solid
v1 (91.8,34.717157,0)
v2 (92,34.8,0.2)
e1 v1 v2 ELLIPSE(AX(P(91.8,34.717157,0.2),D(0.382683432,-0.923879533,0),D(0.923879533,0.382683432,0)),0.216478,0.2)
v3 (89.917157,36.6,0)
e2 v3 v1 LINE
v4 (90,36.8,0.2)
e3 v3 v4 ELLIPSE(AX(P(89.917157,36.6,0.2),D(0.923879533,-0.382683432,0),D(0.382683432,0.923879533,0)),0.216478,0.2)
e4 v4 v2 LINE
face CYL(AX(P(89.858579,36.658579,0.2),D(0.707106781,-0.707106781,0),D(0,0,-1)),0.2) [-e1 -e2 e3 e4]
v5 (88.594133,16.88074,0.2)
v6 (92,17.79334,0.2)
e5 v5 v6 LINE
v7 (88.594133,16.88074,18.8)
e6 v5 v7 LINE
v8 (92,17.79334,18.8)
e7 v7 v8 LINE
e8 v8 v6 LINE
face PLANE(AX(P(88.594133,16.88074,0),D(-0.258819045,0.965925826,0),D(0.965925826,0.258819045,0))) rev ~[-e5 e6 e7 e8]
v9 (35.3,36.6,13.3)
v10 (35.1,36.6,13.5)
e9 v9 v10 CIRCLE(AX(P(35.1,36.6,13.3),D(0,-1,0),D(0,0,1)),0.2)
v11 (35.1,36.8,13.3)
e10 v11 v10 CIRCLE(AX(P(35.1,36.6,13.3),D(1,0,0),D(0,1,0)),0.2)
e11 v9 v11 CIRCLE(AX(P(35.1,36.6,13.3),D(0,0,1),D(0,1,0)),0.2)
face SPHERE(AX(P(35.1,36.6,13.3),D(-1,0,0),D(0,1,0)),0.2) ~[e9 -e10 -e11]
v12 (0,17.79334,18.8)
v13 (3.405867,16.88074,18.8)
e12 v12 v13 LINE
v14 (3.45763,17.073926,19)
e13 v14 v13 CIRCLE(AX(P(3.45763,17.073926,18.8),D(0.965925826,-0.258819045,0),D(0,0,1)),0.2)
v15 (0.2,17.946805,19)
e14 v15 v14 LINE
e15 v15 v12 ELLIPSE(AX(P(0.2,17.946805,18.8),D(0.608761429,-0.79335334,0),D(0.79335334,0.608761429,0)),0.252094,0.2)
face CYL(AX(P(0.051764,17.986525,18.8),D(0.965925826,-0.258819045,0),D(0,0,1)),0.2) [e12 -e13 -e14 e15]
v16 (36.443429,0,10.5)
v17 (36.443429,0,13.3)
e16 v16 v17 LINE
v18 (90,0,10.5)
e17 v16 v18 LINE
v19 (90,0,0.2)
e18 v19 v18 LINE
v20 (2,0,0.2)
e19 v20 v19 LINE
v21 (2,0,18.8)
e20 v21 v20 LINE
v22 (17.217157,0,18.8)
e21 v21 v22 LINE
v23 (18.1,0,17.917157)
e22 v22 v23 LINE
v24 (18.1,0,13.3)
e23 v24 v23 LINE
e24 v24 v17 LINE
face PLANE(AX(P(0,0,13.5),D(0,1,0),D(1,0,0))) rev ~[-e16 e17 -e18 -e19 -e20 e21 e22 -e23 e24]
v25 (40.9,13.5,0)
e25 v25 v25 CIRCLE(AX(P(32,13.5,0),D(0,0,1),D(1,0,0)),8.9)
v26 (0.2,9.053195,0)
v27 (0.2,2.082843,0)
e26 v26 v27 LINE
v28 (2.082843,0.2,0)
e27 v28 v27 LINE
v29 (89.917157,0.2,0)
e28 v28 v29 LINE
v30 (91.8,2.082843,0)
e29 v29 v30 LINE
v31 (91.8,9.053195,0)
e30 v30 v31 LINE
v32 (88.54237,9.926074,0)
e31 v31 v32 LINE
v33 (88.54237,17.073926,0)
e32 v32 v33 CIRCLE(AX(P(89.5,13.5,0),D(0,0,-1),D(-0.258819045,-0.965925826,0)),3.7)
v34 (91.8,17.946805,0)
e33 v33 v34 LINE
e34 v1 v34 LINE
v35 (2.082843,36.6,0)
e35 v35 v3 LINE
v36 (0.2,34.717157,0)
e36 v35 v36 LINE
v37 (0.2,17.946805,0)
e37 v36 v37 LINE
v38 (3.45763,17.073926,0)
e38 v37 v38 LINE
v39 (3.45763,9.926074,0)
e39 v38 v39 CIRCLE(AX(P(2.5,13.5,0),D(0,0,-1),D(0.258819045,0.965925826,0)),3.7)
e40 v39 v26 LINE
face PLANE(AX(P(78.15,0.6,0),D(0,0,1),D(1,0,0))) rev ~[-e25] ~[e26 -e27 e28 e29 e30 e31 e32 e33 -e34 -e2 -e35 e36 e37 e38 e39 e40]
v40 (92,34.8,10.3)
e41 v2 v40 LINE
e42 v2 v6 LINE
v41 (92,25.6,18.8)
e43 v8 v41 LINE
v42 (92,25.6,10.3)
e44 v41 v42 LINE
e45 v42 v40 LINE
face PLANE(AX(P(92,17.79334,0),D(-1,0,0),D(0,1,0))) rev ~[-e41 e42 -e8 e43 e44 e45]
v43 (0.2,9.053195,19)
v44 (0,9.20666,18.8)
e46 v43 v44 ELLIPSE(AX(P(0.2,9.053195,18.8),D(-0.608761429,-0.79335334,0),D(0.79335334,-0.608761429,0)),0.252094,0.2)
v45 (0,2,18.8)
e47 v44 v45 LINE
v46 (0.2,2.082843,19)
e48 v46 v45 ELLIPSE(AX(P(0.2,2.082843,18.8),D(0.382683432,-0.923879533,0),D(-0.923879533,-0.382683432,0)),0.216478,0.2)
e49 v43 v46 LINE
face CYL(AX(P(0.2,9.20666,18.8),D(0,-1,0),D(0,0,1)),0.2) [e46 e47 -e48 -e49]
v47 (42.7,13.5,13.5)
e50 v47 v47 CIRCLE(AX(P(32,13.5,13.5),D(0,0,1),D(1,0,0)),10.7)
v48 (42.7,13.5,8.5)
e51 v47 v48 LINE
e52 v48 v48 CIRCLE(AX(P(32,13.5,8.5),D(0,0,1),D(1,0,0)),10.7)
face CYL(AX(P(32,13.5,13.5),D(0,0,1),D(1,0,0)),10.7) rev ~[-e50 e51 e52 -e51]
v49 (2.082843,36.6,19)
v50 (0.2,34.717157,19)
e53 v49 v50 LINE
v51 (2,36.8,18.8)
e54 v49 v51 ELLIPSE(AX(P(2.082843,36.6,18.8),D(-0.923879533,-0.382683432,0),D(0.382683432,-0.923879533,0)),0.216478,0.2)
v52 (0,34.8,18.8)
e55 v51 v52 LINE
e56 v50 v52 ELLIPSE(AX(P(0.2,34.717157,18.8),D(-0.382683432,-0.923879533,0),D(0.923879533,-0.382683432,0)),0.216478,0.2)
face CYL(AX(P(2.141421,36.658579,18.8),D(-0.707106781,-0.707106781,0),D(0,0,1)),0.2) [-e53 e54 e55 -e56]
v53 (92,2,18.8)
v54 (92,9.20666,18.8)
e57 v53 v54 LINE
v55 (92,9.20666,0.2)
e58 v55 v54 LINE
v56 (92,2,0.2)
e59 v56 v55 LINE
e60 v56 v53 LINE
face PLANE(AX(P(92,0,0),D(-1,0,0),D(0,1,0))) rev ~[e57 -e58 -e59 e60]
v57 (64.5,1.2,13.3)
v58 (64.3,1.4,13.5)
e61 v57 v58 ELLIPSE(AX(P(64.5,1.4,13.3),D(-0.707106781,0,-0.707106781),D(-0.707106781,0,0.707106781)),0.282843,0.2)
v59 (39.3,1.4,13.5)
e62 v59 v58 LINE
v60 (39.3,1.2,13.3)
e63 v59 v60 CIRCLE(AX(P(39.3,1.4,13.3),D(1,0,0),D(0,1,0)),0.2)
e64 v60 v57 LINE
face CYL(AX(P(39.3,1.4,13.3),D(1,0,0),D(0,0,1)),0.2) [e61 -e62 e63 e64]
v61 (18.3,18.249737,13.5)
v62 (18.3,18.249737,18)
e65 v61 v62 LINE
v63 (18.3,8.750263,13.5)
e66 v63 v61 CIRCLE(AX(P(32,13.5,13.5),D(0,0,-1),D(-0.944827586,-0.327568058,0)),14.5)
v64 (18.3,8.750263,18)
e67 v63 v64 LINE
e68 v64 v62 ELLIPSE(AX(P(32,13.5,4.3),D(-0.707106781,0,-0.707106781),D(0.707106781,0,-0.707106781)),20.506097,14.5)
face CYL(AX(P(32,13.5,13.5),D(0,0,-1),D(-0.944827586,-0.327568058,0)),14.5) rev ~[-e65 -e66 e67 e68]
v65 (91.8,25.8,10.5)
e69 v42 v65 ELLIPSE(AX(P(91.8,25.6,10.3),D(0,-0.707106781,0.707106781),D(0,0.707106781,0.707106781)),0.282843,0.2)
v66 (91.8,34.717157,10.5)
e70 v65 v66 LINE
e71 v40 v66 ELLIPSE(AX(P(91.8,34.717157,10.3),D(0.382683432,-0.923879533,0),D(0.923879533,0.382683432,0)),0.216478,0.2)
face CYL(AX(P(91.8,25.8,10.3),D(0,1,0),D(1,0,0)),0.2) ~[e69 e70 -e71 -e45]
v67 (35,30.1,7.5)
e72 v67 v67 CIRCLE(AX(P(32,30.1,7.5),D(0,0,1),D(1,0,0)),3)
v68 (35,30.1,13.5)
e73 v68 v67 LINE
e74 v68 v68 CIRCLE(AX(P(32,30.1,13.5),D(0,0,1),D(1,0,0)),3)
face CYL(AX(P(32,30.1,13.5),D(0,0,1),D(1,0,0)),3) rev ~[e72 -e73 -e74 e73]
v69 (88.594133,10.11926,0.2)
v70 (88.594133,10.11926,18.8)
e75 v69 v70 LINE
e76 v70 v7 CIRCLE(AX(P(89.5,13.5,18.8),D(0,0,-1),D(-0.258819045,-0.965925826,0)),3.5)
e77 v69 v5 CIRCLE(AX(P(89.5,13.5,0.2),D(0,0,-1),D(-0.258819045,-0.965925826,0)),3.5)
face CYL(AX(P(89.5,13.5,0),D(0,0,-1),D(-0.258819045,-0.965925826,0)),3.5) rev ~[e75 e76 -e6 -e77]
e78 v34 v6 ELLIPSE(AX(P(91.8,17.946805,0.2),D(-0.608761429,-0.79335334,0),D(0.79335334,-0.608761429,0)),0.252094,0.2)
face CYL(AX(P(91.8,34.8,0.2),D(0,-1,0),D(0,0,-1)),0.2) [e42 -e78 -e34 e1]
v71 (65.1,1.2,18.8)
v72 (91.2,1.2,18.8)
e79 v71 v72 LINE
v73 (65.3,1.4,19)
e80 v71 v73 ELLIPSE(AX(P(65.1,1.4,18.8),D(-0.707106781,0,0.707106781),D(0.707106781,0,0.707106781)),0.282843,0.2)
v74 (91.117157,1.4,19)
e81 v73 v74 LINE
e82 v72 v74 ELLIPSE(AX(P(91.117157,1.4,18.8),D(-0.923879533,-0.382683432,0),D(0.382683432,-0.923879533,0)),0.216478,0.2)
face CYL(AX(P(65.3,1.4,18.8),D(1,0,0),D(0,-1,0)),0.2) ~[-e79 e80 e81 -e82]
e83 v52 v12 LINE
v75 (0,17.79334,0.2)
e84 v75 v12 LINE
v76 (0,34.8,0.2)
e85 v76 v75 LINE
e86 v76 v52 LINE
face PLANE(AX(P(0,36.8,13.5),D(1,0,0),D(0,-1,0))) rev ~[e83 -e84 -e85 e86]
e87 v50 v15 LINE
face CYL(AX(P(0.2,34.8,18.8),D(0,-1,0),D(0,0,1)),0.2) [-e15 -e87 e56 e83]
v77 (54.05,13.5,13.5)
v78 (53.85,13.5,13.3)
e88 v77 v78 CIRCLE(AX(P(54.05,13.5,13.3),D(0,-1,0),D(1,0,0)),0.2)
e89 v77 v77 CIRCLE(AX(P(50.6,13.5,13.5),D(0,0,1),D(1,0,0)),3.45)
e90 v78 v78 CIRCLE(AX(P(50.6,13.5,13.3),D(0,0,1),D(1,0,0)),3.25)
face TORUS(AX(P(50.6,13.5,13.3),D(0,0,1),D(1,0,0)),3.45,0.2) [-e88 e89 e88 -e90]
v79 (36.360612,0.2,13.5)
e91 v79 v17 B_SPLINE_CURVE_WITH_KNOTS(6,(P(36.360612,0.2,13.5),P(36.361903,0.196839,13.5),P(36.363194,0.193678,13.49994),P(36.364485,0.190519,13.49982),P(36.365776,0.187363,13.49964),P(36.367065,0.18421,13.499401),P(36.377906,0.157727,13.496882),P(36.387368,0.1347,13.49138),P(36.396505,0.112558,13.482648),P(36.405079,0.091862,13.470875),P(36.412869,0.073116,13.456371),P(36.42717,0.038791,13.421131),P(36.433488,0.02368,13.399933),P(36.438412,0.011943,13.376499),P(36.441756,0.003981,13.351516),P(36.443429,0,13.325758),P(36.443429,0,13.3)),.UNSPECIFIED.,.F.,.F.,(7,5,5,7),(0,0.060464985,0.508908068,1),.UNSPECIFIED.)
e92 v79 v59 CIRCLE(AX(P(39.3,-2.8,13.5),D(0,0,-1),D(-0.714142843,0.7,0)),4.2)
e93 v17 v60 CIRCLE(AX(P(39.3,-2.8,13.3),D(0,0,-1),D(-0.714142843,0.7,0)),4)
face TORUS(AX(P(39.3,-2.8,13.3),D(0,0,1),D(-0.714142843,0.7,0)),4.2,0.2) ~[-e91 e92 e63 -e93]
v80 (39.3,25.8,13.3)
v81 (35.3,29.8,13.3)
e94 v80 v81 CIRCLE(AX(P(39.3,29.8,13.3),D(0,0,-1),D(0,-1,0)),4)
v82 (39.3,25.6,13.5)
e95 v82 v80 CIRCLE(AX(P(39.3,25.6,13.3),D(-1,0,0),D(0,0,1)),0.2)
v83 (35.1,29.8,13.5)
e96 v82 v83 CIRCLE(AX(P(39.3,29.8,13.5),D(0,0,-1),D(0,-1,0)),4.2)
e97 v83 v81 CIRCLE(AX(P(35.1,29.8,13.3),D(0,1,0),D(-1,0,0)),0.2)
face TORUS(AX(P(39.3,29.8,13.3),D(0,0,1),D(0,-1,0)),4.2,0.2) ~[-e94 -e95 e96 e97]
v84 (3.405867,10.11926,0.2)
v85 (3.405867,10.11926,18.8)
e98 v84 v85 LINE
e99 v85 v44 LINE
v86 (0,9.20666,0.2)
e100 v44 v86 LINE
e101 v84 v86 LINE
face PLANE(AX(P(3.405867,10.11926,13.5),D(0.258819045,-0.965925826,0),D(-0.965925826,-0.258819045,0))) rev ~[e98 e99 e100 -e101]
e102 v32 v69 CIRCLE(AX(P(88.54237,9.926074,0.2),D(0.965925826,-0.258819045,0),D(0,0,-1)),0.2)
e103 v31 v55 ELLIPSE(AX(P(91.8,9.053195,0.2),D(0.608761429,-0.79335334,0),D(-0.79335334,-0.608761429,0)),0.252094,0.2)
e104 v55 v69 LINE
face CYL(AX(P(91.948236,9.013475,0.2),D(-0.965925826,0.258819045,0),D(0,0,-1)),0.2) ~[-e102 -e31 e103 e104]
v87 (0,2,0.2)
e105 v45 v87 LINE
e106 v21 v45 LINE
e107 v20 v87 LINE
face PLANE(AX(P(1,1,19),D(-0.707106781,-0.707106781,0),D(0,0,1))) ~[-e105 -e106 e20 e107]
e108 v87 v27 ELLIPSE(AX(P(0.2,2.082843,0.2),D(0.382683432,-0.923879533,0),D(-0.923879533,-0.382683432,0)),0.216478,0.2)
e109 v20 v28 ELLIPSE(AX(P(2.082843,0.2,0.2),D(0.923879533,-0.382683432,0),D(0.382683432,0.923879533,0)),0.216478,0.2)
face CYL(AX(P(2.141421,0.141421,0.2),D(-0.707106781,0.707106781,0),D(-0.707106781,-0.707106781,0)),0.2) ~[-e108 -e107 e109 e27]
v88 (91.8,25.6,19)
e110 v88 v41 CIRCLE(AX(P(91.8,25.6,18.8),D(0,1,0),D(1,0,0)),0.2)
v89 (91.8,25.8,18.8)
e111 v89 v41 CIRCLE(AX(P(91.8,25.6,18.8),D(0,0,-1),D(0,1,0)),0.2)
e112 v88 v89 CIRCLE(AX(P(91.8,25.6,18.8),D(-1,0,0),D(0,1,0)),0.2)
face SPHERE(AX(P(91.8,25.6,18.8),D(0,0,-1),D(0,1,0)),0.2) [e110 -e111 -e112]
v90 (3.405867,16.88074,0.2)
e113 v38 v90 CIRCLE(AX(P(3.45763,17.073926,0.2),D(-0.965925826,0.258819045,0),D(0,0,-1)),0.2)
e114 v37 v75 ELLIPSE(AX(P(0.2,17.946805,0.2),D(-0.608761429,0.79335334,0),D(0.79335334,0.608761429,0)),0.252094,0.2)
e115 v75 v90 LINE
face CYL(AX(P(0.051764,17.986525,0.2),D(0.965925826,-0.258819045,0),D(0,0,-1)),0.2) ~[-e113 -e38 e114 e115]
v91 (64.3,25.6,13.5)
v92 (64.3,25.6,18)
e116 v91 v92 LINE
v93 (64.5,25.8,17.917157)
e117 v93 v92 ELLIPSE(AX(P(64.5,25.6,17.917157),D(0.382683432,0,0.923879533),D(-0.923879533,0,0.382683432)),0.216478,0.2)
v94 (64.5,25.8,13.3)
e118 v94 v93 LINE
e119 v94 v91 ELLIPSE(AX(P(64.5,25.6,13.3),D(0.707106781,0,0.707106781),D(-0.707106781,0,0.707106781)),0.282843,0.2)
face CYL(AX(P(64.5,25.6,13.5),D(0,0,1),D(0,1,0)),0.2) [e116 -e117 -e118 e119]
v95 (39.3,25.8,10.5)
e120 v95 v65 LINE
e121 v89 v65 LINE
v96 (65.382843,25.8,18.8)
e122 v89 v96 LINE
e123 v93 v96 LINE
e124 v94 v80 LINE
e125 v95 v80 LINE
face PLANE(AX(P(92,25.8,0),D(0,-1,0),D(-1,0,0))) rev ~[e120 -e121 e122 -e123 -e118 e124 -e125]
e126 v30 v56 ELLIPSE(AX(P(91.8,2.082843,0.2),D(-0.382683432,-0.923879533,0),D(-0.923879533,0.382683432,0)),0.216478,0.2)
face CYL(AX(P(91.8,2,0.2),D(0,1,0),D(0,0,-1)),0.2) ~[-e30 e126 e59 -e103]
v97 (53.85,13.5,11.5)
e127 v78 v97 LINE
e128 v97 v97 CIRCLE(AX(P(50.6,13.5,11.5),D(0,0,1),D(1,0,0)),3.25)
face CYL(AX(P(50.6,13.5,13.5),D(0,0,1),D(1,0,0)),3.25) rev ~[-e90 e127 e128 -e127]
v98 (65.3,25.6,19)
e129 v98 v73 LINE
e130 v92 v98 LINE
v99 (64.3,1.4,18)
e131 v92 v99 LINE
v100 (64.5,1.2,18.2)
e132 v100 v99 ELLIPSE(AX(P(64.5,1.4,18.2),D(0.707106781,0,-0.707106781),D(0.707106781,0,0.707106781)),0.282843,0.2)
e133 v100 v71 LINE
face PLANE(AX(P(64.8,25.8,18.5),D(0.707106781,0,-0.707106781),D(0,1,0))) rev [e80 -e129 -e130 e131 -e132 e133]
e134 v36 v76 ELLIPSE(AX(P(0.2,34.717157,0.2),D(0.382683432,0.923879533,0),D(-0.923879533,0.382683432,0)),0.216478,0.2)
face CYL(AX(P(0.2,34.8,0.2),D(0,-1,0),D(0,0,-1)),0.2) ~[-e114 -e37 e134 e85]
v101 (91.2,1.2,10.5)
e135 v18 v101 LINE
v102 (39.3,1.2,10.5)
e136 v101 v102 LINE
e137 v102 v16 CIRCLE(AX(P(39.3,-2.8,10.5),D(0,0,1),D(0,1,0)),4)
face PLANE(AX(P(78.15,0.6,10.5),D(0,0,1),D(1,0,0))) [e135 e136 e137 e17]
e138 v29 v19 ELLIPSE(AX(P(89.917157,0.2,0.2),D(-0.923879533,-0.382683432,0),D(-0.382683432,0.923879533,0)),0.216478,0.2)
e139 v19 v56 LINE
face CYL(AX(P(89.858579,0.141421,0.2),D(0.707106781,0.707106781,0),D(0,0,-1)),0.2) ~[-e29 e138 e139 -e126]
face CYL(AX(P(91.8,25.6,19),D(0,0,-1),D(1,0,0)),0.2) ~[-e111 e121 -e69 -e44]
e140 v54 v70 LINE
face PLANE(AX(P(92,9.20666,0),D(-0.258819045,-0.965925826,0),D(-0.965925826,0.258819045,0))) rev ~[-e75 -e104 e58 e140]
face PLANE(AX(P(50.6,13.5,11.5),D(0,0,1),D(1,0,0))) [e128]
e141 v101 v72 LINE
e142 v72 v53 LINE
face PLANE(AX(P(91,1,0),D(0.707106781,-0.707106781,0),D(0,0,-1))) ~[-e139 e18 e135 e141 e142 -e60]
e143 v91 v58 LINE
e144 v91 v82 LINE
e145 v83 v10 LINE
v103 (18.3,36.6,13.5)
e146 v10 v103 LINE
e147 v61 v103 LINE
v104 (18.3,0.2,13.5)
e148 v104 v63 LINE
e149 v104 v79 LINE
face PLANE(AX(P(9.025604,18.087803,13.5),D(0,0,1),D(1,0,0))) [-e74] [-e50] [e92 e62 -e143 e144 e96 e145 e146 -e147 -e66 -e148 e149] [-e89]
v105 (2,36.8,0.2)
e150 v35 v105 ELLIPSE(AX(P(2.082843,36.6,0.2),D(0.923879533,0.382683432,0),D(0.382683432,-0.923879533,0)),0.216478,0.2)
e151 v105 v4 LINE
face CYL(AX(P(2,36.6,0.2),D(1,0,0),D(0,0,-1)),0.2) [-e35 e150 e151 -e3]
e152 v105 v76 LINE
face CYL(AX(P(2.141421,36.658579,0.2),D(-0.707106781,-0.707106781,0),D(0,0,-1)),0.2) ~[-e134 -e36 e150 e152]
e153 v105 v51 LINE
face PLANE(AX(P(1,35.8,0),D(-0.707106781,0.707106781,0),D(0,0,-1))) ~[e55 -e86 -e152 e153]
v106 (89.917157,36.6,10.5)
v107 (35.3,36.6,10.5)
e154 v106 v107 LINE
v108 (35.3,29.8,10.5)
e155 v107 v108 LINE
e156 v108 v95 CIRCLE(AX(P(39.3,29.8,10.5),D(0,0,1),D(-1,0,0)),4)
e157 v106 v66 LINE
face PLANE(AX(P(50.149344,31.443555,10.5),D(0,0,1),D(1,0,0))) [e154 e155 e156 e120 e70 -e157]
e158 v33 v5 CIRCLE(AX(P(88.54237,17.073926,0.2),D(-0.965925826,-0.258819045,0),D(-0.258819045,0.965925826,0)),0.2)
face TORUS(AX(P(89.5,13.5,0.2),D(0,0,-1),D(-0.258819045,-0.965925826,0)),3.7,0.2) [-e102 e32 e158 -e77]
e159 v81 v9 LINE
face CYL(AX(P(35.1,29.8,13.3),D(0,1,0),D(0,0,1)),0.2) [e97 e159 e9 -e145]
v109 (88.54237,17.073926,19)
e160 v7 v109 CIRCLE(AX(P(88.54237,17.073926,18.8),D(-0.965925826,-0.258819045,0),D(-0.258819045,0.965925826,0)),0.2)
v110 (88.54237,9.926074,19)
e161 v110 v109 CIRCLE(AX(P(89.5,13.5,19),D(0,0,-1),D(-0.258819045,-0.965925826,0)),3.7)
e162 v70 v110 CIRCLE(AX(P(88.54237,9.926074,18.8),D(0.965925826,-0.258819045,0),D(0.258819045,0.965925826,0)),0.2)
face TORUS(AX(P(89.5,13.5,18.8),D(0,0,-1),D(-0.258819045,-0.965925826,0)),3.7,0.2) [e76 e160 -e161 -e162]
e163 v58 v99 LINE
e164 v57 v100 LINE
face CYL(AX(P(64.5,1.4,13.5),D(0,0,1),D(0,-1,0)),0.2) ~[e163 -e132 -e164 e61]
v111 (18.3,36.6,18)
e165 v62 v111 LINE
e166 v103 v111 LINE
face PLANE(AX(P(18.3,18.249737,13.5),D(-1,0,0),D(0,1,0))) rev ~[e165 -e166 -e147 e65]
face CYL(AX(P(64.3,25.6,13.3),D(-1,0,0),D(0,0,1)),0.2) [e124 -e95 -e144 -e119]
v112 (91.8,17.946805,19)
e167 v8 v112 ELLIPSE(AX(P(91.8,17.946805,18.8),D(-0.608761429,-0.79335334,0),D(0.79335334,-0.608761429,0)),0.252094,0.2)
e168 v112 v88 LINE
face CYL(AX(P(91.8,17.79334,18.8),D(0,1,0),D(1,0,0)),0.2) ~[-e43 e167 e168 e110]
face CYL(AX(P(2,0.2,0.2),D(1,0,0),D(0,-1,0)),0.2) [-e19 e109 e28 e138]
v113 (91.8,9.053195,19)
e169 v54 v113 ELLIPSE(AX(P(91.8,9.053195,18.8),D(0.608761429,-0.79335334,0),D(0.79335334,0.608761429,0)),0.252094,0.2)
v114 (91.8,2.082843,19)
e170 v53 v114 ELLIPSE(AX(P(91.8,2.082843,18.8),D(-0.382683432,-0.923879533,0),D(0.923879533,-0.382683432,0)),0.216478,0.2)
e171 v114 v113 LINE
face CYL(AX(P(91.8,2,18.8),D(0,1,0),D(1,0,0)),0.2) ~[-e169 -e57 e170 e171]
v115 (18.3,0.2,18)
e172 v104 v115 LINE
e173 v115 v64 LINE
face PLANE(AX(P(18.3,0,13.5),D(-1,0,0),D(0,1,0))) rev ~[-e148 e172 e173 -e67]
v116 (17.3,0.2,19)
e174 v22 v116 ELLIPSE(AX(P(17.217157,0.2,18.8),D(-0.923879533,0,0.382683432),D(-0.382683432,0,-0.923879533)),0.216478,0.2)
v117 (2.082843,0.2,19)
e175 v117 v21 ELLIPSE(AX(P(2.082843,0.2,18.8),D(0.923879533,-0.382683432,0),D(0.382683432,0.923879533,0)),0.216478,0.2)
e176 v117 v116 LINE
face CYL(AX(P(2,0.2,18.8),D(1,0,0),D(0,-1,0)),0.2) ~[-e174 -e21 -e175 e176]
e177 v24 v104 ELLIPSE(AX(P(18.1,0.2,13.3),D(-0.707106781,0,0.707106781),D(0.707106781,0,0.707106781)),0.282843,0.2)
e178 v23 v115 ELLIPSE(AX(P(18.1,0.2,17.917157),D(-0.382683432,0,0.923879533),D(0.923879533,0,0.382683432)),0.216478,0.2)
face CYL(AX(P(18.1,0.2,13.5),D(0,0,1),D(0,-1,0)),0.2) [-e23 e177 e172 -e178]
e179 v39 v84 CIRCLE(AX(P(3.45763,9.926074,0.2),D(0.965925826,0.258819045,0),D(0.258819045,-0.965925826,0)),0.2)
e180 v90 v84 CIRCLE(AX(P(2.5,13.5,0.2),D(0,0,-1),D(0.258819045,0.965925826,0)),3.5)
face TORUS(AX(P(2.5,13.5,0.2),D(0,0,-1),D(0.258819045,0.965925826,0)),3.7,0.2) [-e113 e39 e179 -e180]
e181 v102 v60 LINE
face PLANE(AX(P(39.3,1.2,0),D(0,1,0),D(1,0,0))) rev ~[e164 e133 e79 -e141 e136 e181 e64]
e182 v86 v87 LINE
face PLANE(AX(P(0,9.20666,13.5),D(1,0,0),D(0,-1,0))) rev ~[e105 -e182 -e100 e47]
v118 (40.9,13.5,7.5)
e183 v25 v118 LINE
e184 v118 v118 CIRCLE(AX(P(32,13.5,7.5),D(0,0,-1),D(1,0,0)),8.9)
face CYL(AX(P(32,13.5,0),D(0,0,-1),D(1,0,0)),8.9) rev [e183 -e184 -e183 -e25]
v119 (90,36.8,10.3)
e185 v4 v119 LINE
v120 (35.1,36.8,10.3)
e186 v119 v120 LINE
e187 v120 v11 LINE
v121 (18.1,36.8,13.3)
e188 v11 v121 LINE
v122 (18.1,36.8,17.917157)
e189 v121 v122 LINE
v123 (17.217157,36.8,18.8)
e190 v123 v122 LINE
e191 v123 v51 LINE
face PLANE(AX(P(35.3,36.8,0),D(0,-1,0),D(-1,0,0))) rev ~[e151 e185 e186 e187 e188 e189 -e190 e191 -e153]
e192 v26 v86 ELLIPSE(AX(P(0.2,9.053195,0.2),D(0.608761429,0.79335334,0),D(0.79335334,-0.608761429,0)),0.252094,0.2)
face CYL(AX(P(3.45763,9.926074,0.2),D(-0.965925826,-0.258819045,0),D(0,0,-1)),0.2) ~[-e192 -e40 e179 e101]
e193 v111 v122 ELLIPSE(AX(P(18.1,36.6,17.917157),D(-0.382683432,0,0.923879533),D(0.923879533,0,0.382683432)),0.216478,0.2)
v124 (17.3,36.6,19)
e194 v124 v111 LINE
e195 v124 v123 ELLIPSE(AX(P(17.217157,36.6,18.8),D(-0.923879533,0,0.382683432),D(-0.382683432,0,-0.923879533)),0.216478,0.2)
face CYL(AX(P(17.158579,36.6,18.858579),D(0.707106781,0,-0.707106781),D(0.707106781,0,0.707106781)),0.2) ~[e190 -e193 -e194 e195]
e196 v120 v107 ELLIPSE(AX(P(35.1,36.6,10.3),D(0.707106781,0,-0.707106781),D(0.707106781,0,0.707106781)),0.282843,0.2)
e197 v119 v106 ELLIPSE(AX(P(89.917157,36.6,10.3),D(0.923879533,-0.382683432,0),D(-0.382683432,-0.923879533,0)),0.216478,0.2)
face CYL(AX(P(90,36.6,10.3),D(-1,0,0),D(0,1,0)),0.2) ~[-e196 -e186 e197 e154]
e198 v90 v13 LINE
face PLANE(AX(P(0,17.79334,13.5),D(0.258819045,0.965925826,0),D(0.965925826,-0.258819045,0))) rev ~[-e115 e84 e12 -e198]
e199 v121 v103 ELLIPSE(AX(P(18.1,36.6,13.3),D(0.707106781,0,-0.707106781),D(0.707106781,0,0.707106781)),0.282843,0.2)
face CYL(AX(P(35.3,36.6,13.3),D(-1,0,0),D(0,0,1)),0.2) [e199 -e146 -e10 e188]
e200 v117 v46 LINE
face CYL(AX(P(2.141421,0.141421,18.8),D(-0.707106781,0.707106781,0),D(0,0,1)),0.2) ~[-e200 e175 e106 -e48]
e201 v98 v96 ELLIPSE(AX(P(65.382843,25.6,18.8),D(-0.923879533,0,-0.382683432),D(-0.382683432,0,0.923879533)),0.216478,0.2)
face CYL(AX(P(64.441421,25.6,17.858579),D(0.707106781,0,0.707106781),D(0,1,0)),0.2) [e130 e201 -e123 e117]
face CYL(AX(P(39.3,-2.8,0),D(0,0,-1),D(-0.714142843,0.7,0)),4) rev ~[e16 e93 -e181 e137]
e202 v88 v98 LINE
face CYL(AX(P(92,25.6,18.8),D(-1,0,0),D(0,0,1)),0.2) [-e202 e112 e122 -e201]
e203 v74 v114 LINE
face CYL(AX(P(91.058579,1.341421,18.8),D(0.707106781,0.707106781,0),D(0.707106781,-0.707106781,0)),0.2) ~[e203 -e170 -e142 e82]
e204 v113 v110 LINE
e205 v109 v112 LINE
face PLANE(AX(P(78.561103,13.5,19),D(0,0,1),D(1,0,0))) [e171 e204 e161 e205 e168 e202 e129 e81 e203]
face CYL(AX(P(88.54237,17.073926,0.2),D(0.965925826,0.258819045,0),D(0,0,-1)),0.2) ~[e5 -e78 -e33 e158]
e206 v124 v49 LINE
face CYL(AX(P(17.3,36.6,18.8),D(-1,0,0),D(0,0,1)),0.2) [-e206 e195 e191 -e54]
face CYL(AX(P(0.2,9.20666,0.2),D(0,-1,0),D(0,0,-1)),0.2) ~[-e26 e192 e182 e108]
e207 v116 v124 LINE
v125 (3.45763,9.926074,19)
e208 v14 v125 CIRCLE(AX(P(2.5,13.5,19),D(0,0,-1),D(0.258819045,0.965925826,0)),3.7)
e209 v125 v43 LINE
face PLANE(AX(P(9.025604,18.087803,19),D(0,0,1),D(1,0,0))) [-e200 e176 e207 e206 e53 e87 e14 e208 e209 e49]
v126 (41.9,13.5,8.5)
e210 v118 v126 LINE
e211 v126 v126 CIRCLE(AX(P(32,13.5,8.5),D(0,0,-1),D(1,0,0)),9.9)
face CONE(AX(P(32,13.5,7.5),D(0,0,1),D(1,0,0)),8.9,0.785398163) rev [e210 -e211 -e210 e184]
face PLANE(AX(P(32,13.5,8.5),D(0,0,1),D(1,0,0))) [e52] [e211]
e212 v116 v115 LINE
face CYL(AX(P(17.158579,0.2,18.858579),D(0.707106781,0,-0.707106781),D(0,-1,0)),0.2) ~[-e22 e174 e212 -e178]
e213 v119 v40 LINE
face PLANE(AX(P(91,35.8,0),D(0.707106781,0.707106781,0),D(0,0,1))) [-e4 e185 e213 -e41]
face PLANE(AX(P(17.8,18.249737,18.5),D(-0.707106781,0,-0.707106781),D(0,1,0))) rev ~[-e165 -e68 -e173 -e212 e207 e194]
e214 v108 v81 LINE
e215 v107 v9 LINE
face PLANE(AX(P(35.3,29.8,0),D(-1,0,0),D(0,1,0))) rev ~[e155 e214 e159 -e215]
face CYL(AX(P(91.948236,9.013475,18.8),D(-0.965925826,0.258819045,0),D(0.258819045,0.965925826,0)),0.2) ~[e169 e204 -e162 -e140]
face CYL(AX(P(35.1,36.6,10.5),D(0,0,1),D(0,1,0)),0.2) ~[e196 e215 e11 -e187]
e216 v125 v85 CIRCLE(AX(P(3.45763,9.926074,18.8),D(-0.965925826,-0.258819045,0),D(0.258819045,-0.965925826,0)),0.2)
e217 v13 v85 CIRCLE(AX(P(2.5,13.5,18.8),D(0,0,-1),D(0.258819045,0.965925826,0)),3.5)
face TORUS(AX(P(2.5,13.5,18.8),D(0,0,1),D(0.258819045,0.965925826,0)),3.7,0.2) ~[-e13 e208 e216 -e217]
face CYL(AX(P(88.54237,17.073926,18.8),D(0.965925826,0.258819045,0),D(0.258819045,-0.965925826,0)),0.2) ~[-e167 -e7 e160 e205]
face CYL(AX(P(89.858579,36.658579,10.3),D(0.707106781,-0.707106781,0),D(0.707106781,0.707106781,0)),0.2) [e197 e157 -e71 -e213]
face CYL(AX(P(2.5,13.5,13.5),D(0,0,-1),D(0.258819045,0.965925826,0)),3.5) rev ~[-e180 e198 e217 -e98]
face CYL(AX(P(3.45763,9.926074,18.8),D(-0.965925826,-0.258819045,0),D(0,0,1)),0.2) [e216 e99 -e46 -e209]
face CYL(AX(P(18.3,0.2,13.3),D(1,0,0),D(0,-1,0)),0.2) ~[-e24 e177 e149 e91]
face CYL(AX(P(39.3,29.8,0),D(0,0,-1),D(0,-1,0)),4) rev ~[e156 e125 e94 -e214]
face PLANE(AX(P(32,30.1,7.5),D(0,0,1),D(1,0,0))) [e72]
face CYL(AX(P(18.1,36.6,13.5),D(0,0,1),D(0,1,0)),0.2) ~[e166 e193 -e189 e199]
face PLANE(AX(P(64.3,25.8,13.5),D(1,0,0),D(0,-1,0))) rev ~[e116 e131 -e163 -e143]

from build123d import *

# Parameters (mm, degrees)
F0_R     = 8.9
F3_DEPTH = 13.5
F0_W     = 27.7
F0_H     = 1.2
F0_H_2   = 11
F4_DEPTH = 10.5
F2_R     = 10.7
F5_DEPTH = 5
F2_R_2   = 3.25
F6_DEPTH = 2
F2_R_3   = 3
F7_DEPTH = 6
F8_DEPTH = 5.5
F9_SIZE  = 1
F10_SIZE = 2
F11_R    = 0.2


with BuildPart() as f3:
    # F0 (on Top) → F3 (new body)
    with BuildSketch(Plane.XY):
        with BuildLine():
            Line((0, 9.2066603875), (0, 0))
            Line((0, 0), (18.3, 0))
            Line((18.3, 0), (18.3, 8.7502631652))
            ThreePointArc((18.3, 8.7502631652), (17.5, 13.5), (18.3, 18.2497368348))
            Line((18.3, 18.2497368348), (18.3, 36.8))
            Line((18.3, 36.8), (0, 36.8))
            Line((0, 36.8), (0, 17.7933396125))
            Line((0, 17.7933396125), (3.4058666579, 16.880740392))
            ThreePointArc((3.4058666579, 16.880740392), (6, 13.5), (3.4058666579, 10.119259608))
            Line((3.4058666579, 10.119259608), (0, 9.2066603875))
        make_face()
        with BuildLine():
            Line((18.3, 8.7502631652), (18.3, 0))
            Line((18.3, 0), (36.4434286286, 0))
            ThreePointArc((36.4434286286, 0), (37.7508066615, 0.8878177829), (39.3, 1.2))
            Line((39.3, 1.2), (64.3, 1.2))
            Line((64.3, 1.2), (64.3, 25.8))
            Line((64.3, 25.8), (39.3, 25.8))
            ThreePointArc((39.3, 25.8), (36.4715728753, 26.9715728753), (35.3, 29.8))
            Line((35.3, 29.8), (35.3, 36.8))
            Line((35.3, 36.8), (18.3, 36.8))
            Line((18.3, 36.8), (18.3, 18.2497368348))
            ThreePointArc((18.3, 18.2497368348), (17.5, 13.5), (18.3, 8.7502631652))
        make_face()
        with Locations((32, 13.5)):
            Circle(F0_R, mode=Mode.SUBTRACT)
        with BuildLine():
            Line((64.3, 25.8), (64.3, 1.2))
            Line((64.3, 1.2), (92, 1.2))
            Line((92, 1.2), (92, 9.2066603875))
            Line((92, 9.2066603875), (88.5941333421, 10.119259608))
            ThreePointArc((88.5941333421, 10.119259608), (86, 13.5), (88.5941333421, 16.880740392))
            Line((88.5941333421, 16.880740392), (92, 17.7933396125))
            Line((92, 17.7933396125), (92, 25.8))
            Line((92, 25.8), (64.3, 25.8))
        make_face()
    extrude(amount=F3_DEPTH)

    # F0 (on Top) → F4 (join)
    with BuildSketch(Plane.XY):
        with Locations((78.15, 0.6)):
            Rectangle(F0_W, F0_H)
        with BuildLine():
            ThreePointArc((39.3, 1.2), (37.7508066615, 0.8878177829), (36.4434286286, 0))
            Line((36.4434286286, 0), (64.3, 0))
            Line((64.3, 0), (64.3, 1.2))
            Line((64.3, 1.2), (39.3, 1.2))
        make_face()
        with BuildLine():
            Line((39.3, 25.8), (64.3, 25.8))
            Line((64.3, 25.8), (64.3, 36.8))
            Line((64.3, 36.8), (35.3, 36.8))
            Line((35.3, 36.8), (35.3, 29.8))
            ThreePointArc((35.3, 29.8), (36.4715728753, 26.9715728753), (39.3, 25.8))
        make_face()
        with Locations((78.15, 31.3)):
            Rectangle(F0_W, F0_H_2)
    extrude(amount=F4_DEPTH)

    # F2 (on offset) → F5 (cut)
    with BuildSketch(Plane.XY.offset(13.5)):
        with Locations((32, 13.5)):
            Circle(F2_R)
    extrude(amount=-F5_DEPTH, mode=Mode.SUBTRACT)

    # F2 (on offset) → F6 (cut)
    with BuildSketch(Plane.XY.offset(13.5)):
        with Locations((50.6, 13.5)):
            Circle(F2_R_2)
    extrude(amount=-F6_DEPTH, mode=Mode.SUBTRACT)

    # F2 (on offset) → F7 (cut)
    with BuildSketch(Plane.XY.offset(13.5)):
        with Locations((32, 30.1)):
            Circle(F2_R_3)
    extrude(amount=-F7_DEPTH, mode=Mode.SUBTRACT)

    # F2 (on offset) → F8 (join)
    with BuildSketch(Plane.XY.offset(13.5)):
        with BuildLine():
            Line((18.3, 0), (18.3, 8.7502631652))
            ThreePointArc((18.3, 8.7502631652), (17.5, 13.5), (18.3, 18.2497368348))
            Line((18.3, 18.2497368348), (18.3, 36.8))
            Line((18.3, 36.8), (0, 36.8))
            Line((0, 36.8), (0, 17.7933396125))
            Line((0, 17.7933396125), (3.4058666579, 16.880740392))
            ThreePointArc((3.4058666579, 16.880740392), (6, 13.5), (3.4058666579, 10.119259608))
            Line((3.4058666579, 10.119259608), (0, 9.2066603875))
            Line((0, 9.2066603875), (0, 0))
            Line((0, 0), (18.3, 0))
        make_face()
        with BuildLine():
            Line((92, 17.7933396125), (92, 25.8))
            Line((92, 25.8), (64.3, 25.8))
            Line((64.3, 25.8), (64.3, 1.2))
            Line((64.3, 1.2), (92, 1.2))
            Line((92, 1.2), (92, 9.2066603875))
            Line((92, 9.2066603875), (88.5941333421, 10.119259608))
            ThreePointArc((88.5941333421, 10.119259608), (86, 13.5), (88.5941333421, 16.880740392))
            Line((88.5941333421, 16.880740392), (92, 17.7933396125))
        make_face()
    extrude(amount=F8_DEPTH)

    # F9
    f9_edges = [f3.edges().sort_by_distance(p)[0] for p in [
        (23.1, 13.5, 8.5),
        (18.3, 27.524868, 19),
        (64.3, 13.5, 19),
    ]]
    chamfer(f9_edges, length=F9_SIZE)

    # F10
    f10_edges = [f3.edges().sort_by_distance(p)[0] for p in [
        (92, 0, 5.25),
        (92, 36.8, 5.25),
        (0, 36.8, 9.5),
        (0, 0, 9.5),
    ]]
    chamfer(f10_edges, length=F10_SIZE)

    # F11
    f11_edges = [f3.edges().sort_by_distance(p)[0] for p in [
        (1, 1, 19),
        (0, 5.60333, 19),
        (1.702933, 9.66296, 19),
        (6, 13.5, 19),
        (0, 26.29667, 19),
        (1.702933, 17.33704, 19),
        (1, 35.8, 19),
        (9.65, 36.8, 19),
        (17.8, 36.8, 18.5),
        (18.3, 36.8, 15.75),
        (26.8, 36.8, 13.5),
        (35.3, 36.8, 12),
        (62.65, 36.8, 10.5),
        (91, 35.8, 10.5),
        (92, 30.3, 10.5),
        (92, 25.8, 14.75),
        (78.65, 25.8, 19),
        (78.25, 1.2, 19),
        (91.6, 1.6, 19),
        (92, 5.60333, 19),
        (90.297067, 9.66296, 19),
        (86, 13.5, 19),
        (92, 21.79667, 19),
        (64.3, 1.2, 15.75),
        (51.8, 1.2, 13.5),
        (27.371714, 0, 13.5),
        (18.3, 0, 15.75),
        (17.8, 0, 18.5),
        (9.65, 0, 19),
        (64.3, 25.8, 15.75),
        (64.8, 25.8, 18.5),
        (51.8, 25.8, 13.5),
        (36.471573, 26.971573, 13.5),
        (35.3, 33.3, 13.5),
        (46, 36.8, 0),
        (91, 35.8, 0),
        (92, 26.29667, 0),
        (90.297067, 17.33704, 0),
        (86, 13.5, 0),
        (92, 5.60333, 0),
        (91, 1, 0),
        (46, 0, 0),
        (1, 1, 0),
        (0, 5.60333, 0),
        (1.702933, 9.66296, 0),
        (1, 35.8, 0),
        (0, 26.29667, 0),
        (47.35, 13.5, 13.5),
    ]]
    fillet(f11_edges, radius=F11_R)


solid = f3.part
